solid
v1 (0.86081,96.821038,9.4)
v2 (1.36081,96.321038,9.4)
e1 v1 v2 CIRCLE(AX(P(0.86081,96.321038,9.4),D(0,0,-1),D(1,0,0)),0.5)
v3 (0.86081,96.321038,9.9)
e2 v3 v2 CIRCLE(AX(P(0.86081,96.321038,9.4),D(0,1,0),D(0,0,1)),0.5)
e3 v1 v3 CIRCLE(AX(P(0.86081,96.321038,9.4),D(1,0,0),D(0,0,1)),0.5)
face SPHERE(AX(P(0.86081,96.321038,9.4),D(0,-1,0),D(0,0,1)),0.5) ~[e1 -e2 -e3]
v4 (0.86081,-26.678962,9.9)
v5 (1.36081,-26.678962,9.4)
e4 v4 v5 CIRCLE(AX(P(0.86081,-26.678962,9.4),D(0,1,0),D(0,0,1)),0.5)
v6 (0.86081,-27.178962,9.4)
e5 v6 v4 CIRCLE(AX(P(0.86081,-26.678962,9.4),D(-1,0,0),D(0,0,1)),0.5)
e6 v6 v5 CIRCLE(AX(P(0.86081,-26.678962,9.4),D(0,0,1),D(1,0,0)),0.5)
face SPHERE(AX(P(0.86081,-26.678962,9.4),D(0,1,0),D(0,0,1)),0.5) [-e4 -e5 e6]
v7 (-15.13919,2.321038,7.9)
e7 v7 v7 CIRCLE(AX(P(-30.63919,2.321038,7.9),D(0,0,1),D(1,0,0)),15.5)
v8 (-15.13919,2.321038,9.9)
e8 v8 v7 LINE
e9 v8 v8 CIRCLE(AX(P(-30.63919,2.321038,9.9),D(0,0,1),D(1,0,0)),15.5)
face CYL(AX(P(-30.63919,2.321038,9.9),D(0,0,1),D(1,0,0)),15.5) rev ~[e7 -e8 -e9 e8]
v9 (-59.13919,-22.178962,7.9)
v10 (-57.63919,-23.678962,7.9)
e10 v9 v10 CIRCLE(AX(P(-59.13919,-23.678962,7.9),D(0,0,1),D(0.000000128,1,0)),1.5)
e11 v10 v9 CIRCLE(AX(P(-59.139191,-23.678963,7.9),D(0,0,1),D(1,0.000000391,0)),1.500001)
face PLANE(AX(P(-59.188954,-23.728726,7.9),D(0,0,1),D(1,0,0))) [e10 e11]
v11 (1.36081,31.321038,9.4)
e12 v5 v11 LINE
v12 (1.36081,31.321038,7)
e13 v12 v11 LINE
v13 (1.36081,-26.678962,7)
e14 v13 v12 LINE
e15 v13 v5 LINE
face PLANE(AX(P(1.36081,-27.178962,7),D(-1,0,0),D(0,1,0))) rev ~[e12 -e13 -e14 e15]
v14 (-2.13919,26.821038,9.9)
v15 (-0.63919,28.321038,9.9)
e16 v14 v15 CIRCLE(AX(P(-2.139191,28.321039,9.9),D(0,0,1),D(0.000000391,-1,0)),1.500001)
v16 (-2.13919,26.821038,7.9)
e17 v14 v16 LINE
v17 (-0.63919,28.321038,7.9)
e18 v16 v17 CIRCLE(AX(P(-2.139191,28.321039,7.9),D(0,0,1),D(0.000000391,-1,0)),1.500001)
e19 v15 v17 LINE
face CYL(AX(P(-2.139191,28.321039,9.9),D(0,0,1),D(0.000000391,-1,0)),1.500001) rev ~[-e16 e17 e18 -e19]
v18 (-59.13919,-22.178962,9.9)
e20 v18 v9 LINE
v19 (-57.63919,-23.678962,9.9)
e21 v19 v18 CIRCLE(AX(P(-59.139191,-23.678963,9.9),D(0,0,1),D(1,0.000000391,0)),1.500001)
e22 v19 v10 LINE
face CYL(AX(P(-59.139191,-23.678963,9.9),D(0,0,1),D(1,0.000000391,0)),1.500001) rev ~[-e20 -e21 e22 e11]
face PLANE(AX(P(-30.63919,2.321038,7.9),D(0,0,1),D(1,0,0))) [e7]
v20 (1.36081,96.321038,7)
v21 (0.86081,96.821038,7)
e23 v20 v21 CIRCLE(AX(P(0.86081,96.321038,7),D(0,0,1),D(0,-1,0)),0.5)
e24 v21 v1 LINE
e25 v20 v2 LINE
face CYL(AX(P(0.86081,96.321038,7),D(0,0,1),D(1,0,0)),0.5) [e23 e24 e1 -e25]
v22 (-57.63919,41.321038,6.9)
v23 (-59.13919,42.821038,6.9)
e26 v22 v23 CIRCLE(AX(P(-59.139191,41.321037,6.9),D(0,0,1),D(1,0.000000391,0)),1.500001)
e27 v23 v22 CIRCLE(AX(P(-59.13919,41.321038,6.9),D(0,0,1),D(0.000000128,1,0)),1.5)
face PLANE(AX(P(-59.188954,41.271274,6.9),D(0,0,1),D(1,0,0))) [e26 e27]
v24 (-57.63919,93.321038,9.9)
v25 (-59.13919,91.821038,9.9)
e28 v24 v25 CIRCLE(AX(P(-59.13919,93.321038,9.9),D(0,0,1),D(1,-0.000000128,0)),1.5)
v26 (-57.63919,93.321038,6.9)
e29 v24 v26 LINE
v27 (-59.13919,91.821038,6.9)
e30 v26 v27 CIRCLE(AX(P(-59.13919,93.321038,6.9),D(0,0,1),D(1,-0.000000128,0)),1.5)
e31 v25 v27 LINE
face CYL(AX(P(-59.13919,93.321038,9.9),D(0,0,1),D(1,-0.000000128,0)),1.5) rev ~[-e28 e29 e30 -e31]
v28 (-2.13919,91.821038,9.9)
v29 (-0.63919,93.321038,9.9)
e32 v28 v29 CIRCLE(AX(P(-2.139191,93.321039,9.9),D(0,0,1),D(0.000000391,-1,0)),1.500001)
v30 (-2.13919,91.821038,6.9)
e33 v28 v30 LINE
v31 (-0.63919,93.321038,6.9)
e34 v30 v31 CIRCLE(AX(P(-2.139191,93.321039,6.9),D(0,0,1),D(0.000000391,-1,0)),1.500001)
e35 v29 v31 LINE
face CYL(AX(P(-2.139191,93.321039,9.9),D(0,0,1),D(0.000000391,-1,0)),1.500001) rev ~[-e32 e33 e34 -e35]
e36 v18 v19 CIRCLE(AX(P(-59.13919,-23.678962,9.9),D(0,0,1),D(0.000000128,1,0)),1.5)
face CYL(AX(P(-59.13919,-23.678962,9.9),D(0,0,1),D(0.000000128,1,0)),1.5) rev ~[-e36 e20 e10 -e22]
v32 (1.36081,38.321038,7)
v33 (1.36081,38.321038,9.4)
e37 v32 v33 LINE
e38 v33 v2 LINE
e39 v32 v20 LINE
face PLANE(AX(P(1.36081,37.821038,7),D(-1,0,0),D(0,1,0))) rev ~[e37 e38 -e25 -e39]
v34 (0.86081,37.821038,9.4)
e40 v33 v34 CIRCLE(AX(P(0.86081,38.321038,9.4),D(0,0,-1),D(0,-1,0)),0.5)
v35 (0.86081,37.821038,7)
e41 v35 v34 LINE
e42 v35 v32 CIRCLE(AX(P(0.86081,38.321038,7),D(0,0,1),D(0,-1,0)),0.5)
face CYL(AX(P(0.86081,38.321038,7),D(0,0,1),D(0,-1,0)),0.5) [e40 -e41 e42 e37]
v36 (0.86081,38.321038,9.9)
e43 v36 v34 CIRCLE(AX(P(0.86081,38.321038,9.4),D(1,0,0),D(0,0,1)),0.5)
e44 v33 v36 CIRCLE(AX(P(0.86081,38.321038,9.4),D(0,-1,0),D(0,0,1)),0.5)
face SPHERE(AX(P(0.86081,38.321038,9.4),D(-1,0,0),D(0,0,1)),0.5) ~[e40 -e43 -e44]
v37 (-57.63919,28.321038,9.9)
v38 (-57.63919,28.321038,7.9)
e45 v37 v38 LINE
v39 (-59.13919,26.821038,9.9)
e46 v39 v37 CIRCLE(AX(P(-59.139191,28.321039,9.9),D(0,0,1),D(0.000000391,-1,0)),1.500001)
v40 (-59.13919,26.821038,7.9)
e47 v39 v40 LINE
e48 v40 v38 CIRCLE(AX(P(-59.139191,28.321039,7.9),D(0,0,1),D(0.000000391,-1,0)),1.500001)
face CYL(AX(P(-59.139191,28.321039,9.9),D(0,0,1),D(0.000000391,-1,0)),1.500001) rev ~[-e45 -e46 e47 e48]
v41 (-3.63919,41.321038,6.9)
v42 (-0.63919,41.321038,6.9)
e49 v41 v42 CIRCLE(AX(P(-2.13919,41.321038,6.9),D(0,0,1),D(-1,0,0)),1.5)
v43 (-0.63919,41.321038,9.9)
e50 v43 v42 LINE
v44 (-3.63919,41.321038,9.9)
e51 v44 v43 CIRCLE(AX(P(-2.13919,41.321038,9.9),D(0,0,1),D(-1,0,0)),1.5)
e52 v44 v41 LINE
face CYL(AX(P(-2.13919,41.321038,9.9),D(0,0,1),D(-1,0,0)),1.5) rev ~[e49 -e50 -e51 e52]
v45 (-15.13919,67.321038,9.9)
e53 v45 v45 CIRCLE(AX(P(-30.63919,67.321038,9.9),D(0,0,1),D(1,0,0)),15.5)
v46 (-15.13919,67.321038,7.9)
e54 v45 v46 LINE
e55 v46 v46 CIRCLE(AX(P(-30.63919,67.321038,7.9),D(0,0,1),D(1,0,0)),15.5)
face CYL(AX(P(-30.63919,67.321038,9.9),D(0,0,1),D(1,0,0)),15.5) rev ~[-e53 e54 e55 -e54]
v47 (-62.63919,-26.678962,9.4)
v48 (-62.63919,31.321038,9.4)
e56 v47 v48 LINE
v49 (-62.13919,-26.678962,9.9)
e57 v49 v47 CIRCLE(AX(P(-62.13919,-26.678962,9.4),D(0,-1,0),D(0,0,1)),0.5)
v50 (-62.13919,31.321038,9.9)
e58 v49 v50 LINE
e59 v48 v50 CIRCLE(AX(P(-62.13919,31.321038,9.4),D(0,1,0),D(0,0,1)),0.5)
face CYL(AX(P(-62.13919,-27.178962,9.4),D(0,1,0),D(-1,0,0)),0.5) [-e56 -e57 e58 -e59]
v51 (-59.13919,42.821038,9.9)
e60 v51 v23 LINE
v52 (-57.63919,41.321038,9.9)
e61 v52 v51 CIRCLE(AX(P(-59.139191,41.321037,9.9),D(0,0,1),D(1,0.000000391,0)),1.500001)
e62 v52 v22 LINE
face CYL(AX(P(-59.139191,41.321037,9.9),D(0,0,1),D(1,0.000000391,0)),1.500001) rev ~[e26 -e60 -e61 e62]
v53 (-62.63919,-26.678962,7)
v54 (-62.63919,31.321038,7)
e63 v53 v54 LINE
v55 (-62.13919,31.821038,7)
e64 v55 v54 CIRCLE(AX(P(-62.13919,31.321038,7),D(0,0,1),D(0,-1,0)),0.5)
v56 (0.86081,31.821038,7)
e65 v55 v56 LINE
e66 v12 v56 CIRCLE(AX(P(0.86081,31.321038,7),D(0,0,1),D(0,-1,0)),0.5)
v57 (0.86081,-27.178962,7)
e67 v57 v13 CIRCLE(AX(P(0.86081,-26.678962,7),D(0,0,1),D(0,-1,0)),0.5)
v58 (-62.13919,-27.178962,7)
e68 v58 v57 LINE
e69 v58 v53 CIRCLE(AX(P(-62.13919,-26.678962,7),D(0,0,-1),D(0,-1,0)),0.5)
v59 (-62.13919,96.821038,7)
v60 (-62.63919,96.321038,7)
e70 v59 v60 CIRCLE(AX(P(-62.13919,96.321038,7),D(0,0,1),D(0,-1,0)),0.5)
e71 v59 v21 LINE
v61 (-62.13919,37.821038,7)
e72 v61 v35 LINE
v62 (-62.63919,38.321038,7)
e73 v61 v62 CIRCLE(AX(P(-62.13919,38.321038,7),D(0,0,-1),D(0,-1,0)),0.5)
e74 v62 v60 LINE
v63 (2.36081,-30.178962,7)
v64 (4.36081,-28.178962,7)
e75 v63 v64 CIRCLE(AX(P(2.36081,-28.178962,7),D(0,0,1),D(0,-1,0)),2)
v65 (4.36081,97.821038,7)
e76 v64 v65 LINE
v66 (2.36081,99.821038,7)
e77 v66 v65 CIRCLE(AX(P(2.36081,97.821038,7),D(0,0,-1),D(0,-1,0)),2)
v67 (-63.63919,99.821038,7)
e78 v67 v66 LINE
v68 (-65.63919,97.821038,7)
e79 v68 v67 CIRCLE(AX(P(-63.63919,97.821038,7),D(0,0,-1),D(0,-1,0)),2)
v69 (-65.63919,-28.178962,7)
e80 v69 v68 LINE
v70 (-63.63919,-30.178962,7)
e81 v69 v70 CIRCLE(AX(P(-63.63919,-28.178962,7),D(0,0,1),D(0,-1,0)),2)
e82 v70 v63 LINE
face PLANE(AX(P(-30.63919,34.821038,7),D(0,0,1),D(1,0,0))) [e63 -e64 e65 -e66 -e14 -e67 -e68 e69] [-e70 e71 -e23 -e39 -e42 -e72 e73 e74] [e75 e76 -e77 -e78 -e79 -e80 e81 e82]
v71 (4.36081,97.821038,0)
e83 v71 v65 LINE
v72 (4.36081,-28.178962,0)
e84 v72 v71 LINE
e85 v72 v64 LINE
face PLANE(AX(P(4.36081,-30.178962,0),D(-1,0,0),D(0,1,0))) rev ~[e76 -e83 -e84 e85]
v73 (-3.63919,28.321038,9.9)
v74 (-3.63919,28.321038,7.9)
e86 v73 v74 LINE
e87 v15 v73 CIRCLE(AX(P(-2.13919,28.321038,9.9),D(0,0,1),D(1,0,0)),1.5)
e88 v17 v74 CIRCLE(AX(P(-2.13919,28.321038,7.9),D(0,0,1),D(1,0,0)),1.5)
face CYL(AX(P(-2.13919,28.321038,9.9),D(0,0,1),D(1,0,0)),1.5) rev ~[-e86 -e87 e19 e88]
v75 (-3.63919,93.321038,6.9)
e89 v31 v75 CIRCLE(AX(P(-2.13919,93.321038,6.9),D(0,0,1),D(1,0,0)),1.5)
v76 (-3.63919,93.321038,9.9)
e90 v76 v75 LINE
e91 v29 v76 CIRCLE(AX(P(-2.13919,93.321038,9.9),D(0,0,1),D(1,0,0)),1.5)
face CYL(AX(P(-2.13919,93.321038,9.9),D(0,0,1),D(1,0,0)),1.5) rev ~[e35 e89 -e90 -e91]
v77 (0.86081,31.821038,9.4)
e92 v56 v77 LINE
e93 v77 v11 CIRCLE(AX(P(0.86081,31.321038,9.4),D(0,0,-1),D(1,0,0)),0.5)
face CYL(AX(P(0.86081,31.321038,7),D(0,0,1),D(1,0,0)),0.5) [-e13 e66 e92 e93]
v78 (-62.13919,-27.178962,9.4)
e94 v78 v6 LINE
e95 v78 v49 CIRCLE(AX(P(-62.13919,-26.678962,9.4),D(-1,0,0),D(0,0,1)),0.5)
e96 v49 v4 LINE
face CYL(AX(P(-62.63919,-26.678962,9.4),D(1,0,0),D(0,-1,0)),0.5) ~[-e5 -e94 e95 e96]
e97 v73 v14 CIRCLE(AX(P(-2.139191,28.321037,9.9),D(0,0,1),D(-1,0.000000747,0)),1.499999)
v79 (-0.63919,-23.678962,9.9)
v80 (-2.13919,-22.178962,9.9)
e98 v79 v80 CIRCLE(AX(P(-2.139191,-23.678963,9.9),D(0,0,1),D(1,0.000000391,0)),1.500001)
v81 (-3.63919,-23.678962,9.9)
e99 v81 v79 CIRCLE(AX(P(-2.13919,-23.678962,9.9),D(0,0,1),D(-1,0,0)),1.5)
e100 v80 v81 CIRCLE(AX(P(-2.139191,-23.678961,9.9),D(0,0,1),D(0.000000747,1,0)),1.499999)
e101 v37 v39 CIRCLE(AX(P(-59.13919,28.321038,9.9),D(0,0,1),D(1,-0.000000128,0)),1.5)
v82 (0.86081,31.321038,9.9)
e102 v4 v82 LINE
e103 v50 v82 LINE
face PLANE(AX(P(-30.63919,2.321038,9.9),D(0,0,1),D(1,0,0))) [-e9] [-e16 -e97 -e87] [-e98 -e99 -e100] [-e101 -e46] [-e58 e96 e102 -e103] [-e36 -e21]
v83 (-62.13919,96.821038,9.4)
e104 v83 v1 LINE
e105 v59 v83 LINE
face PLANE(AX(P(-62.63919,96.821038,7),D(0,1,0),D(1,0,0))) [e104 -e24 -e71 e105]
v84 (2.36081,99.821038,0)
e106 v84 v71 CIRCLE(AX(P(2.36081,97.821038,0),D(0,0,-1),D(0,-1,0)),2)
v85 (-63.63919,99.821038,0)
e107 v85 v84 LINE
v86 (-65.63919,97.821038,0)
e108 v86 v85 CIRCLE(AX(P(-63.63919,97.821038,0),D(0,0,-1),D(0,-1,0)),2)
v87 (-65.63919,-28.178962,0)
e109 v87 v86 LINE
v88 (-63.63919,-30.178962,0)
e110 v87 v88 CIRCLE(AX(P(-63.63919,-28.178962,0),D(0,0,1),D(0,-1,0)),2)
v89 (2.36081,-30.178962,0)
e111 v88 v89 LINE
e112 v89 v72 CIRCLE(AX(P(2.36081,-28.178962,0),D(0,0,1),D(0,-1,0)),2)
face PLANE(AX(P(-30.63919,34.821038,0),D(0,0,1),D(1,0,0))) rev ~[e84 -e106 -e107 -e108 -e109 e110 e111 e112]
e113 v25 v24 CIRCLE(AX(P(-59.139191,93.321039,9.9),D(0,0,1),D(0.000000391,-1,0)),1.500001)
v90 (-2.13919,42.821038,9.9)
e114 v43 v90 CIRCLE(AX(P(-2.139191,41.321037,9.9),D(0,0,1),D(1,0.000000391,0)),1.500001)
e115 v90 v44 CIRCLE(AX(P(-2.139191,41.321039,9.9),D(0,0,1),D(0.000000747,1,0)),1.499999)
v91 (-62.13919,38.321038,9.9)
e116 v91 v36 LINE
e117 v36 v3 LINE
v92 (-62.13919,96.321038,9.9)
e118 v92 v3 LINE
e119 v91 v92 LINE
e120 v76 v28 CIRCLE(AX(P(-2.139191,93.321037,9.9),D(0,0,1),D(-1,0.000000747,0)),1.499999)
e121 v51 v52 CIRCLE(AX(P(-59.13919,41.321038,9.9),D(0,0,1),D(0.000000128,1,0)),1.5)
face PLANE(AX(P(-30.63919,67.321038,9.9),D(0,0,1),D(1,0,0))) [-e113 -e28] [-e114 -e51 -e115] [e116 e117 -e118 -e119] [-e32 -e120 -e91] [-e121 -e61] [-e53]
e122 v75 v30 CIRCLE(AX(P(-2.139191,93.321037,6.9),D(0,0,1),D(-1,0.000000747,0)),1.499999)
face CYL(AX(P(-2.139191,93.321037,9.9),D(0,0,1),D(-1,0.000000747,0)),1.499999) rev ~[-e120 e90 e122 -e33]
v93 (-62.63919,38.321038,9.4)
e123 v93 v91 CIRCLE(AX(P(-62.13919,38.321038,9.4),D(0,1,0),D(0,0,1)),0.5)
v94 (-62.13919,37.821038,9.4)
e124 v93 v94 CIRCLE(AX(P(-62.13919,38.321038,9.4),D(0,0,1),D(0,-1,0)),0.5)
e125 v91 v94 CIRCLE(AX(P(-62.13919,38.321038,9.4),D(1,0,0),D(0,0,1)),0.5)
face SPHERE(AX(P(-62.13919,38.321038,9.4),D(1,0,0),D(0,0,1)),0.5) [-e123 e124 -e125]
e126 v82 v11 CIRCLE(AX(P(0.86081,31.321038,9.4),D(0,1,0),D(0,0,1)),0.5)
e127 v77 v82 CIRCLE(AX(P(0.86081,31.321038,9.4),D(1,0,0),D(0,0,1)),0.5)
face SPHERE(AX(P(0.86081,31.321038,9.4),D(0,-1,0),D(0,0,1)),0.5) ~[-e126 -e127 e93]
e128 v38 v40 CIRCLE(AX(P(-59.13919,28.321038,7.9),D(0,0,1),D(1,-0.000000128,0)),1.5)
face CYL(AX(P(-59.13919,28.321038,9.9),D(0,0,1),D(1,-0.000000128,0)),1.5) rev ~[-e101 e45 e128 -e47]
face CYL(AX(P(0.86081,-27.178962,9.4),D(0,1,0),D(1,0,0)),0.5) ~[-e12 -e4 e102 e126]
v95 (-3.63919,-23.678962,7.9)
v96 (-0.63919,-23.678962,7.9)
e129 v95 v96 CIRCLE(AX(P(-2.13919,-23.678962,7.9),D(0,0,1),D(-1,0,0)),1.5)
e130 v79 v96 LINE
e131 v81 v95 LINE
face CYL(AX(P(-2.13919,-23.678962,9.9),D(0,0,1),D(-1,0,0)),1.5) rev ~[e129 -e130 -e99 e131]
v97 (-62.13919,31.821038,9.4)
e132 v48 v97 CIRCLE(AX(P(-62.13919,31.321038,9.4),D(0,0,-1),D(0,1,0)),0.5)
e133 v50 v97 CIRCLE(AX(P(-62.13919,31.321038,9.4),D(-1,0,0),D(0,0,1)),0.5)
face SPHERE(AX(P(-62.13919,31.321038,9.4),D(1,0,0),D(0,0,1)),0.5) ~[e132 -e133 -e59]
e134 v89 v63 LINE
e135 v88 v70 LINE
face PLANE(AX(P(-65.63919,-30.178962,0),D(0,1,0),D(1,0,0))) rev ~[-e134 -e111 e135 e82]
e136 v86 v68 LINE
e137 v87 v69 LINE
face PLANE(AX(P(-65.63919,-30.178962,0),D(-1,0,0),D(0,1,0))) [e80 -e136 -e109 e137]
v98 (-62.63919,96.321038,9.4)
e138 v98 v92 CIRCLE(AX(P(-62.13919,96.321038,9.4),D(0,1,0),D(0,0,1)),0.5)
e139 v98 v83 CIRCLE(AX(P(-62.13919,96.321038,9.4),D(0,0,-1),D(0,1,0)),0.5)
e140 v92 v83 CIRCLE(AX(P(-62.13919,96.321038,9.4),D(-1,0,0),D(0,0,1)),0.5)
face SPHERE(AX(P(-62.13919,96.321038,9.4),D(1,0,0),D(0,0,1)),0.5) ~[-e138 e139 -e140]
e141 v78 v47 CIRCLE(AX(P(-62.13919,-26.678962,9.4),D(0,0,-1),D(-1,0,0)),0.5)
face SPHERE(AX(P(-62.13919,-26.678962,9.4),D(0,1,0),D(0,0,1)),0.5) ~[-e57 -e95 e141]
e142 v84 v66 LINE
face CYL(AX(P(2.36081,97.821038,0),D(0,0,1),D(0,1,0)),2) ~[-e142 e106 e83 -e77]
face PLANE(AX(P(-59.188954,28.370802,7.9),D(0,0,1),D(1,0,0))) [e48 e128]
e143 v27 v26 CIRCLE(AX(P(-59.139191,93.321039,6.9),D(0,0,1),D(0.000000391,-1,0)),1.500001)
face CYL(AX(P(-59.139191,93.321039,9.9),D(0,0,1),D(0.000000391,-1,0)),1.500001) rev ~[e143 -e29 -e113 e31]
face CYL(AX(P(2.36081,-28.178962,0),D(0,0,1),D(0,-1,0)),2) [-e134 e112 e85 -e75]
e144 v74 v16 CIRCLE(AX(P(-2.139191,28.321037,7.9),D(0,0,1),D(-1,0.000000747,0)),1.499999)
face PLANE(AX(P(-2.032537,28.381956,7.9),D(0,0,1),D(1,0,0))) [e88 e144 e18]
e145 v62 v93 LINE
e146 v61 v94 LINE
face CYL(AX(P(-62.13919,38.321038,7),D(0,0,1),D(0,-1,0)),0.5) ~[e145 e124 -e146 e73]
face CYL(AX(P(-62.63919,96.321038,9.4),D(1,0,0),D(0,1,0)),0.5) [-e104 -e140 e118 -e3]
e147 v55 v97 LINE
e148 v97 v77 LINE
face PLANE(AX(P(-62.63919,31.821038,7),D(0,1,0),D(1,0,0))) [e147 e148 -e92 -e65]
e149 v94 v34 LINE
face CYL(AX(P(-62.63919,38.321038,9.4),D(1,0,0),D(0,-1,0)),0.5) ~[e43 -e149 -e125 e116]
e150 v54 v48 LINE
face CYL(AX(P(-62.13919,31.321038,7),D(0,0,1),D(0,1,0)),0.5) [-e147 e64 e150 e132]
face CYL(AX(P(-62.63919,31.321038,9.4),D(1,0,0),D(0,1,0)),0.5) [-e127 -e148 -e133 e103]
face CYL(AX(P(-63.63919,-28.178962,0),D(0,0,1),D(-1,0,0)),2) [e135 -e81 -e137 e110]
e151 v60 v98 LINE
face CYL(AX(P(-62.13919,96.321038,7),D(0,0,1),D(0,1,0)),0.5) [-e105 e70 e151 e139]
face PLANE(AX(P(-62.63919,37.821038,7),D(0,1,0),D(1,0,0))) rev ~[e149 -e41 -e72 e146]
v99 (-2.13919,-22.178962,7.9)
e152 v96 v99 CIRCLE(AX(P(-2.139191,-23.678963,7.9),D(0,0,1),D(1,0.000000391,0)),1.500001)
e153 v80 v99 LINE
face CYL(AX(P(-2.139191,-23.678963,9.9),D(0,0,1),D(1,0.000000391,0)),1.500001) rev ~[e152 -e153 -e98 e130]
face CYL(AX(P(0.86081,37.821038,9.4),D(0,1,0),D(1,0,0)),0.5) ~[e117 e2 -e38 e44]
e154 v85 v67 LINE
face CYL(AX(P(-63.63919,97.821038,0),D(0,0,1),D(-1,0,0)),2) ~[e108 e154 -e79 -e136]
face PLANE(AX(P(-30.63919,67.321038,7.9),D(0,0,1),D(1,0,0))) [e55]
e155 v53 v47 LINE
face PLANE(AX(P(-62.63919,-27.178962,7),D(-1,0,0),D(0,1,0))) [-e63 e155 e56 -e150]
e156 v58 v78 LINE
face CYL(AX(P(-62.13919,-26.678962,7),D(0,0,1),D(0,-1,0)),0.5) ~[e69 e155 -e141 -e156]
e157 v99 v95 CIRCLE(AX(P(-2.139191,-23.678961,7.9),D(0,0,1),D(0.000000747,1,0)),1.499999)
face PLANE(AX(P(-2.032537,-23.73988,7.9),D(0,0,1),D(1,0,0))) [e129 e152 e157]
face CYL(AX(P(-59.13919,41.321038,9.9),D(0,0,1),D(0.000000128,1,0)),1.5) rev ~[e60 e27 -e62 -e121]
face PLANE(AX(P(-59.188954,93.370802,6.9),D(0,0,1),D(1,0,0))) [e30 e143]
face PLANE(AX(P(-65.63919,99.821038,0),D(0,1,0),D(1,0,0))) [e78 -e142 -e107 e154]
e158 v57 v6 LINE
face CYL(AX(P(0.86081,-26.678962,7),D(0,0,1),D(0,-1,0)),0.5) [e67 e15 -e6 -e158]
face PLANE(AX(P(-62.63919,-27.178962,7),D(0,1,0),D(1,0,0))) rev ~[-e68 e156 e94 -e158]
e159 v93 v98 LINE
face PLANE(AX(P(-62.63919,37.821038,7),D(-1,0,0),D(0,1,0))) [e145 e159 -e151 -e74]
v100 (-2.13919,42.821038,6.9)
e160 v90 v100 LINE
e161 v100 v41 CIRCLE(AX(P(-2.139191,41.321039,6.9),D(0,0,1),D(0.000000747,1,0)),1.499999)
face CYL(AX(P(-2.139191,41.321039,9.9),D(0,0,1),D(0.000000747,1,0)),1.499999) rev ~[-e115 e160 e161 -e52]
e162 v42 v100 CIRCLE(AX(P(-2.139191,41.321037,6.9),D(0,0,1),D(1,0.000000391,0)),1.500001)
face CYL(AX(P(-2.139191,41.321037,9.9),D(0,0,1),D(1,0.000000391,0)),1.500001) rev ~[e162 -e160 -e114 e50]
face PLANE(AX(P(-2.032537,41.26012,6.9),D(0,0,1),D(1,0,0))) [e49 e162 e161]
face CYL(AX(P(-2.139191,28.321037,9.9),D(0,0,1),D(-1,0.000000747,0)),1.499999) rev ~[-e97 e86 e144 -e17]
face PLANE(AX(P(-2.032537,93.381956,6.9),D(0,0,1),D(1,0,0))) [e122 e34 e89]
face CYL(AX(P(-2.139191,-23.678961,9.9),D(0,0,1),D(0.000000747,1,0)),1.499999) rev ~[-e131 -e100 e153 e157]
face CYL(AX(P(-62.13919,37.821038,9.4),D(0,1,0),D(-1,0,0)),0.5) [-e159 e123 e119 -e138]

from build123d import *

# Parameters (mm, degrees)
F0_W      = 70
F0_H      = 130
F1_DEPTH  = 7
F3_W      = 64
F3_H      = 59
F4_W      = 64
F4_H      = 59
F5_DEPTH  = 2.9
F7_DEPTH  = 3
F9_DEPTH  = 2
F10_R     = 0.5
F11_R     = 15.5
F12_DEPTH = 2
F13_R     = 15.5
F14_DEPTH = 2
F15_R     = 2


with BuildPart() as f1:
    # F0 (on Top) → F1 (new body)
    with BuildSketch(Plane.XY):
        with Locations((-30.63919, 34.821038)):
            Rectangle(F0_W, F0_H)
    extrude(amount=F1_DEPTH)

    # F3 (on face) + F4 (on face) → F5 (join)
    with BuildSketch(Plane.XY.offset(7)):
        with Locations((-30.63919, 67.321038)):
            Rectangle(F3_W, F3_H)
    with BuildSketch(Plane.XY.offset(7)):
        with Locations((-30.63919, 2.321038)):
            Rectangle(F4_W, F4_H)
    extrude(amount=F5_DEPTH)

    # F6 (on face) → F7 (cut)
    with BuildSketch(Plane.XY.offset(9.9)):
        with BuildLine():
            Line((-59.13919, 91.821038), (-59.13919, 93.321038))
            Line((-59.13919, 93.321038), (-57.63919, 93.321038))
            ThreePointArc((-57.63919, 93.321038), (-60.199851, 94.381698), (-59.13919, 91.821038))
        make_face()
        with BuildLine():
            Line((-57.63919, 93.321038), (-59.13919, 93.321038))
            Line((-59.13919, 93.321038), (-59.13919, 91.821038))
            ThreePointArc((-59.13919, 91.821038), (-58.07853, 92.260378), (-57.63919, 93.321038))
        make_face()
        with BuildLine():
            Line((-59.13919, 41.321038), (-59.13919, 42.821038))
            ThreePointArc((-59.13919, 42.821038), (-60.199851, 40.260378), (-57.63919, 41.321038))
            Line((-57.63919, 41.321038), (-59.13919, 41.321038))
        make_face()
        with BuildLine():
            ThreePointArc((-57.63919, 41.321038), (-58.07853, 42.381698), (-59.13919, 42.821038))
            Line((-59.13919, 42.821038), (-59.13919, 41.321038))
            Line((-59.13919, 41.321038), (-57.63919, 41.321038))
        make_face()
        with BuildLine():
            Line((-2.13919, 41.321038), (-3.63919, 41.321038))
            ThreePointArc((-3.63919, 41.321038), (-2.13919, 39.821038), (-0.63919, 41.321038))
            ThreePointArc((-0.63919, 41.321038), (-1.07853, 42.381698), (-2.13919, 42.821038))
            Line((-2.13919, 42.821038), (-2.13919, 41.321038))
        make_face()
        with BuildLine():
            ThreePointArc((-2.13919, 42.821038), (-3.199851, 42.381698), (-3.63919, 41.321038))
            Line((-3.63919, 41.321038), (-2.13919, 41.321038))
            Line((-2.13919, 41.321038), (-2.13919, 42.821038))
        make_face()
        with BuildLine():
            ThreePointArc((-0.63919, 93.321038), (-2.13919, 94.821038), (-3.63919, 93.321038))
            Line((-3.63919, 93.321038), (-2.13919, 93.321038))
            Line((-2.13919, 93.321038), (-2.13919, 91.821038))
            ThreePointArc((-2.13919, 91.821038), (-1.07853, 92.260378), (-0.63919, 93.321038))
        make_face()
        with BuildLine():
            Line((-2.13919, 93.321038), (-3.63919, 93.321038))
            ThreePointArc((-3.63919, 93.321038), (-3.199851, 92.260378), (-2.13919, 91.821038))
            Line((-2.13919, 91.821038), (-2.13919, 93.321038))
        make_face()
    extrude(amount=-F7_DEPTH, mode=Mode.SUBTRACT)

    # F8 (on face) → F9 (cut)
    with BuildSketch(Plane.XY.offset(9.9)):
        with BuildLine():
            Line((-59.13919, 28.321038), (-57.63919, 28.321038))
            ThreePointArc((-57.63919, 28.321038), (-60.199851, 29.381698), (-59.13919, 26.821038))
            Line((-59.13919, 26.821038), (-59.13919, 28.321038))
        make_face()
        with BuildLine():
            ThreePointArc((-59.13919, 26.821038), (-58.07853, 27.260378), (-57.63919, 28.321038))
            Line((-57.63919, 28.321038), (-59.13919, 28.321038))
            Line((-59.13919, 28.321038), (-59.13919, 26.821038))
        make_face()
        with BuildLine():
            Line((-59.13919, -23.678962), (-59.13919, -22.178962))
            ThreePointArc((-59.13919, -22.178962), (-60.199851, -24.739622), (-57.63919, -23.678962))
            Line((-57.63919, -23.678962), (-59.13919, -23.678962))
        make_face()
        with BuildLine():
            ThreePointArc((-57.63919, -23.678962), (-58.07853, -22.618302), (-59.13919, -22.178962))
            Line((-59.13919, -22.178962), (-59.13919, -23.678962))
            Line((-59.13919, -23.678962), (-57.63919, -23.678962))
        make_face()
        with BuildLine():
            ThreePointArc((-0.63919, 28.321038), (-2.13919, 29.821038), (-3.63919, 28.321038))
            Line((-3.63919, 28.321038), (-2.13919, 28.321038))
            Line((-2.13919, 28.321038), (-2.13919, 26.821038))
            ThreePointArc((-2.13919, 26.821038), (-1.07853, 27.260378), (-0.63919, 28.321038))
        make_face()
        with BuildLine():
            Line((-2.13919, 28.321038), (-3.63919, 28.321038))
            ThreePointArc((-3.63919, 28.321038), (-3.199851, 27.260378), (-2.13919, 26.821038))
            Line((-2.13919, 26.821038), (-2.13919, 28.321038))
        make_face()
        with BuildLine():
            ThreePointArc((-0.63919, -23.678962), (-1.07853, -22.618302), (-2.13919, -22.178962))
            Line((-2.13919, -22.178962), (-2.13919, -23.678962))
            Line((-2.13919, -23.678962), (-3.63919, -23.678962))
            ThreePointArc((-3.63919, -23.678962), (-2.13919, -25.178962), (-0.63919, -23.678962))
        make_face()
        with BuildLine():
            Line((-2.13919, -23.678962), (-2.13919, -22.178962))
            ThreePointArc((-2.13919, -22.178962), (-3.199851, -22.618302), (-3.63919, -23.678962))
            Line((-3.63919, -23.678962), (-2.13919, -23.678962))
        make_face()
    extrude(amount=-F9_DEPTH, mode=Mode.SUBTRACT)

    # F10
    f10_edges = [f1.edges().sort_by_distance(p)[0] for p in [
        (-30.63919, 37.821038, 9.9),
        (1.36081, 67.321038, 9.9),
        (1.36081, 2.321038, 9.9),
        (-30.63919, 31.821038, 9.9),
        (-30.63919, 96.821038, 9.9),
        (-62.63919, 67.321038, 9.9),
        (-62.63919, 2.321038, 9.9),
        (-30.63919, -27.178962, 9.9),
        (1.36081, -27.178962, 8.45),
        (1.36081, 31.821038, 8.45),
        (1.36081, 37.821038, 8.45),
        (1.36081, 96.821038, 8.45),
        (-62.63919, -27.178962, 8.45),
        (-62.63919, 31.821038, 8.45),
        (-62.63919, 37.821038, 8.45),
        (-62.63919, 96.821038, 8.45),
    ]]
    fillet(f10_edges, radius=F10_R)

    # F11 (on face) → F12 (cut)
    with BuildSketch(Plane.XY.offset(9.9)):
        with Locations((-30.63919, 2.321038)):
            Circle(F11_R)
    extrude(amount=-F12_DEPTH, mode=Mode.SUBTRACT)

    # F13 (on face) → F14 (cut)
    with BuildSketch(Plane.XY.offset(9.9)):
        with Locations((-30.63919, 67.321038)):
            Circle(F13_R)
    extrude(amount=-F14_DEPTH, mode=Mode.SUBTRACT)

    # F15
    f15_edges = [f1.edges().sort_by_distance(p)[0] for p in [
        (-65.63919, -30.178962, 3.5),
        (4.36081, -30.178962, 3.5),
        (4.36081, 99.821038, 3.5),
        (-65.63919, 99.821038, 3.5),
    ]]
    fillet(f15_edges, radius=F15_R)


solid = f1.part
